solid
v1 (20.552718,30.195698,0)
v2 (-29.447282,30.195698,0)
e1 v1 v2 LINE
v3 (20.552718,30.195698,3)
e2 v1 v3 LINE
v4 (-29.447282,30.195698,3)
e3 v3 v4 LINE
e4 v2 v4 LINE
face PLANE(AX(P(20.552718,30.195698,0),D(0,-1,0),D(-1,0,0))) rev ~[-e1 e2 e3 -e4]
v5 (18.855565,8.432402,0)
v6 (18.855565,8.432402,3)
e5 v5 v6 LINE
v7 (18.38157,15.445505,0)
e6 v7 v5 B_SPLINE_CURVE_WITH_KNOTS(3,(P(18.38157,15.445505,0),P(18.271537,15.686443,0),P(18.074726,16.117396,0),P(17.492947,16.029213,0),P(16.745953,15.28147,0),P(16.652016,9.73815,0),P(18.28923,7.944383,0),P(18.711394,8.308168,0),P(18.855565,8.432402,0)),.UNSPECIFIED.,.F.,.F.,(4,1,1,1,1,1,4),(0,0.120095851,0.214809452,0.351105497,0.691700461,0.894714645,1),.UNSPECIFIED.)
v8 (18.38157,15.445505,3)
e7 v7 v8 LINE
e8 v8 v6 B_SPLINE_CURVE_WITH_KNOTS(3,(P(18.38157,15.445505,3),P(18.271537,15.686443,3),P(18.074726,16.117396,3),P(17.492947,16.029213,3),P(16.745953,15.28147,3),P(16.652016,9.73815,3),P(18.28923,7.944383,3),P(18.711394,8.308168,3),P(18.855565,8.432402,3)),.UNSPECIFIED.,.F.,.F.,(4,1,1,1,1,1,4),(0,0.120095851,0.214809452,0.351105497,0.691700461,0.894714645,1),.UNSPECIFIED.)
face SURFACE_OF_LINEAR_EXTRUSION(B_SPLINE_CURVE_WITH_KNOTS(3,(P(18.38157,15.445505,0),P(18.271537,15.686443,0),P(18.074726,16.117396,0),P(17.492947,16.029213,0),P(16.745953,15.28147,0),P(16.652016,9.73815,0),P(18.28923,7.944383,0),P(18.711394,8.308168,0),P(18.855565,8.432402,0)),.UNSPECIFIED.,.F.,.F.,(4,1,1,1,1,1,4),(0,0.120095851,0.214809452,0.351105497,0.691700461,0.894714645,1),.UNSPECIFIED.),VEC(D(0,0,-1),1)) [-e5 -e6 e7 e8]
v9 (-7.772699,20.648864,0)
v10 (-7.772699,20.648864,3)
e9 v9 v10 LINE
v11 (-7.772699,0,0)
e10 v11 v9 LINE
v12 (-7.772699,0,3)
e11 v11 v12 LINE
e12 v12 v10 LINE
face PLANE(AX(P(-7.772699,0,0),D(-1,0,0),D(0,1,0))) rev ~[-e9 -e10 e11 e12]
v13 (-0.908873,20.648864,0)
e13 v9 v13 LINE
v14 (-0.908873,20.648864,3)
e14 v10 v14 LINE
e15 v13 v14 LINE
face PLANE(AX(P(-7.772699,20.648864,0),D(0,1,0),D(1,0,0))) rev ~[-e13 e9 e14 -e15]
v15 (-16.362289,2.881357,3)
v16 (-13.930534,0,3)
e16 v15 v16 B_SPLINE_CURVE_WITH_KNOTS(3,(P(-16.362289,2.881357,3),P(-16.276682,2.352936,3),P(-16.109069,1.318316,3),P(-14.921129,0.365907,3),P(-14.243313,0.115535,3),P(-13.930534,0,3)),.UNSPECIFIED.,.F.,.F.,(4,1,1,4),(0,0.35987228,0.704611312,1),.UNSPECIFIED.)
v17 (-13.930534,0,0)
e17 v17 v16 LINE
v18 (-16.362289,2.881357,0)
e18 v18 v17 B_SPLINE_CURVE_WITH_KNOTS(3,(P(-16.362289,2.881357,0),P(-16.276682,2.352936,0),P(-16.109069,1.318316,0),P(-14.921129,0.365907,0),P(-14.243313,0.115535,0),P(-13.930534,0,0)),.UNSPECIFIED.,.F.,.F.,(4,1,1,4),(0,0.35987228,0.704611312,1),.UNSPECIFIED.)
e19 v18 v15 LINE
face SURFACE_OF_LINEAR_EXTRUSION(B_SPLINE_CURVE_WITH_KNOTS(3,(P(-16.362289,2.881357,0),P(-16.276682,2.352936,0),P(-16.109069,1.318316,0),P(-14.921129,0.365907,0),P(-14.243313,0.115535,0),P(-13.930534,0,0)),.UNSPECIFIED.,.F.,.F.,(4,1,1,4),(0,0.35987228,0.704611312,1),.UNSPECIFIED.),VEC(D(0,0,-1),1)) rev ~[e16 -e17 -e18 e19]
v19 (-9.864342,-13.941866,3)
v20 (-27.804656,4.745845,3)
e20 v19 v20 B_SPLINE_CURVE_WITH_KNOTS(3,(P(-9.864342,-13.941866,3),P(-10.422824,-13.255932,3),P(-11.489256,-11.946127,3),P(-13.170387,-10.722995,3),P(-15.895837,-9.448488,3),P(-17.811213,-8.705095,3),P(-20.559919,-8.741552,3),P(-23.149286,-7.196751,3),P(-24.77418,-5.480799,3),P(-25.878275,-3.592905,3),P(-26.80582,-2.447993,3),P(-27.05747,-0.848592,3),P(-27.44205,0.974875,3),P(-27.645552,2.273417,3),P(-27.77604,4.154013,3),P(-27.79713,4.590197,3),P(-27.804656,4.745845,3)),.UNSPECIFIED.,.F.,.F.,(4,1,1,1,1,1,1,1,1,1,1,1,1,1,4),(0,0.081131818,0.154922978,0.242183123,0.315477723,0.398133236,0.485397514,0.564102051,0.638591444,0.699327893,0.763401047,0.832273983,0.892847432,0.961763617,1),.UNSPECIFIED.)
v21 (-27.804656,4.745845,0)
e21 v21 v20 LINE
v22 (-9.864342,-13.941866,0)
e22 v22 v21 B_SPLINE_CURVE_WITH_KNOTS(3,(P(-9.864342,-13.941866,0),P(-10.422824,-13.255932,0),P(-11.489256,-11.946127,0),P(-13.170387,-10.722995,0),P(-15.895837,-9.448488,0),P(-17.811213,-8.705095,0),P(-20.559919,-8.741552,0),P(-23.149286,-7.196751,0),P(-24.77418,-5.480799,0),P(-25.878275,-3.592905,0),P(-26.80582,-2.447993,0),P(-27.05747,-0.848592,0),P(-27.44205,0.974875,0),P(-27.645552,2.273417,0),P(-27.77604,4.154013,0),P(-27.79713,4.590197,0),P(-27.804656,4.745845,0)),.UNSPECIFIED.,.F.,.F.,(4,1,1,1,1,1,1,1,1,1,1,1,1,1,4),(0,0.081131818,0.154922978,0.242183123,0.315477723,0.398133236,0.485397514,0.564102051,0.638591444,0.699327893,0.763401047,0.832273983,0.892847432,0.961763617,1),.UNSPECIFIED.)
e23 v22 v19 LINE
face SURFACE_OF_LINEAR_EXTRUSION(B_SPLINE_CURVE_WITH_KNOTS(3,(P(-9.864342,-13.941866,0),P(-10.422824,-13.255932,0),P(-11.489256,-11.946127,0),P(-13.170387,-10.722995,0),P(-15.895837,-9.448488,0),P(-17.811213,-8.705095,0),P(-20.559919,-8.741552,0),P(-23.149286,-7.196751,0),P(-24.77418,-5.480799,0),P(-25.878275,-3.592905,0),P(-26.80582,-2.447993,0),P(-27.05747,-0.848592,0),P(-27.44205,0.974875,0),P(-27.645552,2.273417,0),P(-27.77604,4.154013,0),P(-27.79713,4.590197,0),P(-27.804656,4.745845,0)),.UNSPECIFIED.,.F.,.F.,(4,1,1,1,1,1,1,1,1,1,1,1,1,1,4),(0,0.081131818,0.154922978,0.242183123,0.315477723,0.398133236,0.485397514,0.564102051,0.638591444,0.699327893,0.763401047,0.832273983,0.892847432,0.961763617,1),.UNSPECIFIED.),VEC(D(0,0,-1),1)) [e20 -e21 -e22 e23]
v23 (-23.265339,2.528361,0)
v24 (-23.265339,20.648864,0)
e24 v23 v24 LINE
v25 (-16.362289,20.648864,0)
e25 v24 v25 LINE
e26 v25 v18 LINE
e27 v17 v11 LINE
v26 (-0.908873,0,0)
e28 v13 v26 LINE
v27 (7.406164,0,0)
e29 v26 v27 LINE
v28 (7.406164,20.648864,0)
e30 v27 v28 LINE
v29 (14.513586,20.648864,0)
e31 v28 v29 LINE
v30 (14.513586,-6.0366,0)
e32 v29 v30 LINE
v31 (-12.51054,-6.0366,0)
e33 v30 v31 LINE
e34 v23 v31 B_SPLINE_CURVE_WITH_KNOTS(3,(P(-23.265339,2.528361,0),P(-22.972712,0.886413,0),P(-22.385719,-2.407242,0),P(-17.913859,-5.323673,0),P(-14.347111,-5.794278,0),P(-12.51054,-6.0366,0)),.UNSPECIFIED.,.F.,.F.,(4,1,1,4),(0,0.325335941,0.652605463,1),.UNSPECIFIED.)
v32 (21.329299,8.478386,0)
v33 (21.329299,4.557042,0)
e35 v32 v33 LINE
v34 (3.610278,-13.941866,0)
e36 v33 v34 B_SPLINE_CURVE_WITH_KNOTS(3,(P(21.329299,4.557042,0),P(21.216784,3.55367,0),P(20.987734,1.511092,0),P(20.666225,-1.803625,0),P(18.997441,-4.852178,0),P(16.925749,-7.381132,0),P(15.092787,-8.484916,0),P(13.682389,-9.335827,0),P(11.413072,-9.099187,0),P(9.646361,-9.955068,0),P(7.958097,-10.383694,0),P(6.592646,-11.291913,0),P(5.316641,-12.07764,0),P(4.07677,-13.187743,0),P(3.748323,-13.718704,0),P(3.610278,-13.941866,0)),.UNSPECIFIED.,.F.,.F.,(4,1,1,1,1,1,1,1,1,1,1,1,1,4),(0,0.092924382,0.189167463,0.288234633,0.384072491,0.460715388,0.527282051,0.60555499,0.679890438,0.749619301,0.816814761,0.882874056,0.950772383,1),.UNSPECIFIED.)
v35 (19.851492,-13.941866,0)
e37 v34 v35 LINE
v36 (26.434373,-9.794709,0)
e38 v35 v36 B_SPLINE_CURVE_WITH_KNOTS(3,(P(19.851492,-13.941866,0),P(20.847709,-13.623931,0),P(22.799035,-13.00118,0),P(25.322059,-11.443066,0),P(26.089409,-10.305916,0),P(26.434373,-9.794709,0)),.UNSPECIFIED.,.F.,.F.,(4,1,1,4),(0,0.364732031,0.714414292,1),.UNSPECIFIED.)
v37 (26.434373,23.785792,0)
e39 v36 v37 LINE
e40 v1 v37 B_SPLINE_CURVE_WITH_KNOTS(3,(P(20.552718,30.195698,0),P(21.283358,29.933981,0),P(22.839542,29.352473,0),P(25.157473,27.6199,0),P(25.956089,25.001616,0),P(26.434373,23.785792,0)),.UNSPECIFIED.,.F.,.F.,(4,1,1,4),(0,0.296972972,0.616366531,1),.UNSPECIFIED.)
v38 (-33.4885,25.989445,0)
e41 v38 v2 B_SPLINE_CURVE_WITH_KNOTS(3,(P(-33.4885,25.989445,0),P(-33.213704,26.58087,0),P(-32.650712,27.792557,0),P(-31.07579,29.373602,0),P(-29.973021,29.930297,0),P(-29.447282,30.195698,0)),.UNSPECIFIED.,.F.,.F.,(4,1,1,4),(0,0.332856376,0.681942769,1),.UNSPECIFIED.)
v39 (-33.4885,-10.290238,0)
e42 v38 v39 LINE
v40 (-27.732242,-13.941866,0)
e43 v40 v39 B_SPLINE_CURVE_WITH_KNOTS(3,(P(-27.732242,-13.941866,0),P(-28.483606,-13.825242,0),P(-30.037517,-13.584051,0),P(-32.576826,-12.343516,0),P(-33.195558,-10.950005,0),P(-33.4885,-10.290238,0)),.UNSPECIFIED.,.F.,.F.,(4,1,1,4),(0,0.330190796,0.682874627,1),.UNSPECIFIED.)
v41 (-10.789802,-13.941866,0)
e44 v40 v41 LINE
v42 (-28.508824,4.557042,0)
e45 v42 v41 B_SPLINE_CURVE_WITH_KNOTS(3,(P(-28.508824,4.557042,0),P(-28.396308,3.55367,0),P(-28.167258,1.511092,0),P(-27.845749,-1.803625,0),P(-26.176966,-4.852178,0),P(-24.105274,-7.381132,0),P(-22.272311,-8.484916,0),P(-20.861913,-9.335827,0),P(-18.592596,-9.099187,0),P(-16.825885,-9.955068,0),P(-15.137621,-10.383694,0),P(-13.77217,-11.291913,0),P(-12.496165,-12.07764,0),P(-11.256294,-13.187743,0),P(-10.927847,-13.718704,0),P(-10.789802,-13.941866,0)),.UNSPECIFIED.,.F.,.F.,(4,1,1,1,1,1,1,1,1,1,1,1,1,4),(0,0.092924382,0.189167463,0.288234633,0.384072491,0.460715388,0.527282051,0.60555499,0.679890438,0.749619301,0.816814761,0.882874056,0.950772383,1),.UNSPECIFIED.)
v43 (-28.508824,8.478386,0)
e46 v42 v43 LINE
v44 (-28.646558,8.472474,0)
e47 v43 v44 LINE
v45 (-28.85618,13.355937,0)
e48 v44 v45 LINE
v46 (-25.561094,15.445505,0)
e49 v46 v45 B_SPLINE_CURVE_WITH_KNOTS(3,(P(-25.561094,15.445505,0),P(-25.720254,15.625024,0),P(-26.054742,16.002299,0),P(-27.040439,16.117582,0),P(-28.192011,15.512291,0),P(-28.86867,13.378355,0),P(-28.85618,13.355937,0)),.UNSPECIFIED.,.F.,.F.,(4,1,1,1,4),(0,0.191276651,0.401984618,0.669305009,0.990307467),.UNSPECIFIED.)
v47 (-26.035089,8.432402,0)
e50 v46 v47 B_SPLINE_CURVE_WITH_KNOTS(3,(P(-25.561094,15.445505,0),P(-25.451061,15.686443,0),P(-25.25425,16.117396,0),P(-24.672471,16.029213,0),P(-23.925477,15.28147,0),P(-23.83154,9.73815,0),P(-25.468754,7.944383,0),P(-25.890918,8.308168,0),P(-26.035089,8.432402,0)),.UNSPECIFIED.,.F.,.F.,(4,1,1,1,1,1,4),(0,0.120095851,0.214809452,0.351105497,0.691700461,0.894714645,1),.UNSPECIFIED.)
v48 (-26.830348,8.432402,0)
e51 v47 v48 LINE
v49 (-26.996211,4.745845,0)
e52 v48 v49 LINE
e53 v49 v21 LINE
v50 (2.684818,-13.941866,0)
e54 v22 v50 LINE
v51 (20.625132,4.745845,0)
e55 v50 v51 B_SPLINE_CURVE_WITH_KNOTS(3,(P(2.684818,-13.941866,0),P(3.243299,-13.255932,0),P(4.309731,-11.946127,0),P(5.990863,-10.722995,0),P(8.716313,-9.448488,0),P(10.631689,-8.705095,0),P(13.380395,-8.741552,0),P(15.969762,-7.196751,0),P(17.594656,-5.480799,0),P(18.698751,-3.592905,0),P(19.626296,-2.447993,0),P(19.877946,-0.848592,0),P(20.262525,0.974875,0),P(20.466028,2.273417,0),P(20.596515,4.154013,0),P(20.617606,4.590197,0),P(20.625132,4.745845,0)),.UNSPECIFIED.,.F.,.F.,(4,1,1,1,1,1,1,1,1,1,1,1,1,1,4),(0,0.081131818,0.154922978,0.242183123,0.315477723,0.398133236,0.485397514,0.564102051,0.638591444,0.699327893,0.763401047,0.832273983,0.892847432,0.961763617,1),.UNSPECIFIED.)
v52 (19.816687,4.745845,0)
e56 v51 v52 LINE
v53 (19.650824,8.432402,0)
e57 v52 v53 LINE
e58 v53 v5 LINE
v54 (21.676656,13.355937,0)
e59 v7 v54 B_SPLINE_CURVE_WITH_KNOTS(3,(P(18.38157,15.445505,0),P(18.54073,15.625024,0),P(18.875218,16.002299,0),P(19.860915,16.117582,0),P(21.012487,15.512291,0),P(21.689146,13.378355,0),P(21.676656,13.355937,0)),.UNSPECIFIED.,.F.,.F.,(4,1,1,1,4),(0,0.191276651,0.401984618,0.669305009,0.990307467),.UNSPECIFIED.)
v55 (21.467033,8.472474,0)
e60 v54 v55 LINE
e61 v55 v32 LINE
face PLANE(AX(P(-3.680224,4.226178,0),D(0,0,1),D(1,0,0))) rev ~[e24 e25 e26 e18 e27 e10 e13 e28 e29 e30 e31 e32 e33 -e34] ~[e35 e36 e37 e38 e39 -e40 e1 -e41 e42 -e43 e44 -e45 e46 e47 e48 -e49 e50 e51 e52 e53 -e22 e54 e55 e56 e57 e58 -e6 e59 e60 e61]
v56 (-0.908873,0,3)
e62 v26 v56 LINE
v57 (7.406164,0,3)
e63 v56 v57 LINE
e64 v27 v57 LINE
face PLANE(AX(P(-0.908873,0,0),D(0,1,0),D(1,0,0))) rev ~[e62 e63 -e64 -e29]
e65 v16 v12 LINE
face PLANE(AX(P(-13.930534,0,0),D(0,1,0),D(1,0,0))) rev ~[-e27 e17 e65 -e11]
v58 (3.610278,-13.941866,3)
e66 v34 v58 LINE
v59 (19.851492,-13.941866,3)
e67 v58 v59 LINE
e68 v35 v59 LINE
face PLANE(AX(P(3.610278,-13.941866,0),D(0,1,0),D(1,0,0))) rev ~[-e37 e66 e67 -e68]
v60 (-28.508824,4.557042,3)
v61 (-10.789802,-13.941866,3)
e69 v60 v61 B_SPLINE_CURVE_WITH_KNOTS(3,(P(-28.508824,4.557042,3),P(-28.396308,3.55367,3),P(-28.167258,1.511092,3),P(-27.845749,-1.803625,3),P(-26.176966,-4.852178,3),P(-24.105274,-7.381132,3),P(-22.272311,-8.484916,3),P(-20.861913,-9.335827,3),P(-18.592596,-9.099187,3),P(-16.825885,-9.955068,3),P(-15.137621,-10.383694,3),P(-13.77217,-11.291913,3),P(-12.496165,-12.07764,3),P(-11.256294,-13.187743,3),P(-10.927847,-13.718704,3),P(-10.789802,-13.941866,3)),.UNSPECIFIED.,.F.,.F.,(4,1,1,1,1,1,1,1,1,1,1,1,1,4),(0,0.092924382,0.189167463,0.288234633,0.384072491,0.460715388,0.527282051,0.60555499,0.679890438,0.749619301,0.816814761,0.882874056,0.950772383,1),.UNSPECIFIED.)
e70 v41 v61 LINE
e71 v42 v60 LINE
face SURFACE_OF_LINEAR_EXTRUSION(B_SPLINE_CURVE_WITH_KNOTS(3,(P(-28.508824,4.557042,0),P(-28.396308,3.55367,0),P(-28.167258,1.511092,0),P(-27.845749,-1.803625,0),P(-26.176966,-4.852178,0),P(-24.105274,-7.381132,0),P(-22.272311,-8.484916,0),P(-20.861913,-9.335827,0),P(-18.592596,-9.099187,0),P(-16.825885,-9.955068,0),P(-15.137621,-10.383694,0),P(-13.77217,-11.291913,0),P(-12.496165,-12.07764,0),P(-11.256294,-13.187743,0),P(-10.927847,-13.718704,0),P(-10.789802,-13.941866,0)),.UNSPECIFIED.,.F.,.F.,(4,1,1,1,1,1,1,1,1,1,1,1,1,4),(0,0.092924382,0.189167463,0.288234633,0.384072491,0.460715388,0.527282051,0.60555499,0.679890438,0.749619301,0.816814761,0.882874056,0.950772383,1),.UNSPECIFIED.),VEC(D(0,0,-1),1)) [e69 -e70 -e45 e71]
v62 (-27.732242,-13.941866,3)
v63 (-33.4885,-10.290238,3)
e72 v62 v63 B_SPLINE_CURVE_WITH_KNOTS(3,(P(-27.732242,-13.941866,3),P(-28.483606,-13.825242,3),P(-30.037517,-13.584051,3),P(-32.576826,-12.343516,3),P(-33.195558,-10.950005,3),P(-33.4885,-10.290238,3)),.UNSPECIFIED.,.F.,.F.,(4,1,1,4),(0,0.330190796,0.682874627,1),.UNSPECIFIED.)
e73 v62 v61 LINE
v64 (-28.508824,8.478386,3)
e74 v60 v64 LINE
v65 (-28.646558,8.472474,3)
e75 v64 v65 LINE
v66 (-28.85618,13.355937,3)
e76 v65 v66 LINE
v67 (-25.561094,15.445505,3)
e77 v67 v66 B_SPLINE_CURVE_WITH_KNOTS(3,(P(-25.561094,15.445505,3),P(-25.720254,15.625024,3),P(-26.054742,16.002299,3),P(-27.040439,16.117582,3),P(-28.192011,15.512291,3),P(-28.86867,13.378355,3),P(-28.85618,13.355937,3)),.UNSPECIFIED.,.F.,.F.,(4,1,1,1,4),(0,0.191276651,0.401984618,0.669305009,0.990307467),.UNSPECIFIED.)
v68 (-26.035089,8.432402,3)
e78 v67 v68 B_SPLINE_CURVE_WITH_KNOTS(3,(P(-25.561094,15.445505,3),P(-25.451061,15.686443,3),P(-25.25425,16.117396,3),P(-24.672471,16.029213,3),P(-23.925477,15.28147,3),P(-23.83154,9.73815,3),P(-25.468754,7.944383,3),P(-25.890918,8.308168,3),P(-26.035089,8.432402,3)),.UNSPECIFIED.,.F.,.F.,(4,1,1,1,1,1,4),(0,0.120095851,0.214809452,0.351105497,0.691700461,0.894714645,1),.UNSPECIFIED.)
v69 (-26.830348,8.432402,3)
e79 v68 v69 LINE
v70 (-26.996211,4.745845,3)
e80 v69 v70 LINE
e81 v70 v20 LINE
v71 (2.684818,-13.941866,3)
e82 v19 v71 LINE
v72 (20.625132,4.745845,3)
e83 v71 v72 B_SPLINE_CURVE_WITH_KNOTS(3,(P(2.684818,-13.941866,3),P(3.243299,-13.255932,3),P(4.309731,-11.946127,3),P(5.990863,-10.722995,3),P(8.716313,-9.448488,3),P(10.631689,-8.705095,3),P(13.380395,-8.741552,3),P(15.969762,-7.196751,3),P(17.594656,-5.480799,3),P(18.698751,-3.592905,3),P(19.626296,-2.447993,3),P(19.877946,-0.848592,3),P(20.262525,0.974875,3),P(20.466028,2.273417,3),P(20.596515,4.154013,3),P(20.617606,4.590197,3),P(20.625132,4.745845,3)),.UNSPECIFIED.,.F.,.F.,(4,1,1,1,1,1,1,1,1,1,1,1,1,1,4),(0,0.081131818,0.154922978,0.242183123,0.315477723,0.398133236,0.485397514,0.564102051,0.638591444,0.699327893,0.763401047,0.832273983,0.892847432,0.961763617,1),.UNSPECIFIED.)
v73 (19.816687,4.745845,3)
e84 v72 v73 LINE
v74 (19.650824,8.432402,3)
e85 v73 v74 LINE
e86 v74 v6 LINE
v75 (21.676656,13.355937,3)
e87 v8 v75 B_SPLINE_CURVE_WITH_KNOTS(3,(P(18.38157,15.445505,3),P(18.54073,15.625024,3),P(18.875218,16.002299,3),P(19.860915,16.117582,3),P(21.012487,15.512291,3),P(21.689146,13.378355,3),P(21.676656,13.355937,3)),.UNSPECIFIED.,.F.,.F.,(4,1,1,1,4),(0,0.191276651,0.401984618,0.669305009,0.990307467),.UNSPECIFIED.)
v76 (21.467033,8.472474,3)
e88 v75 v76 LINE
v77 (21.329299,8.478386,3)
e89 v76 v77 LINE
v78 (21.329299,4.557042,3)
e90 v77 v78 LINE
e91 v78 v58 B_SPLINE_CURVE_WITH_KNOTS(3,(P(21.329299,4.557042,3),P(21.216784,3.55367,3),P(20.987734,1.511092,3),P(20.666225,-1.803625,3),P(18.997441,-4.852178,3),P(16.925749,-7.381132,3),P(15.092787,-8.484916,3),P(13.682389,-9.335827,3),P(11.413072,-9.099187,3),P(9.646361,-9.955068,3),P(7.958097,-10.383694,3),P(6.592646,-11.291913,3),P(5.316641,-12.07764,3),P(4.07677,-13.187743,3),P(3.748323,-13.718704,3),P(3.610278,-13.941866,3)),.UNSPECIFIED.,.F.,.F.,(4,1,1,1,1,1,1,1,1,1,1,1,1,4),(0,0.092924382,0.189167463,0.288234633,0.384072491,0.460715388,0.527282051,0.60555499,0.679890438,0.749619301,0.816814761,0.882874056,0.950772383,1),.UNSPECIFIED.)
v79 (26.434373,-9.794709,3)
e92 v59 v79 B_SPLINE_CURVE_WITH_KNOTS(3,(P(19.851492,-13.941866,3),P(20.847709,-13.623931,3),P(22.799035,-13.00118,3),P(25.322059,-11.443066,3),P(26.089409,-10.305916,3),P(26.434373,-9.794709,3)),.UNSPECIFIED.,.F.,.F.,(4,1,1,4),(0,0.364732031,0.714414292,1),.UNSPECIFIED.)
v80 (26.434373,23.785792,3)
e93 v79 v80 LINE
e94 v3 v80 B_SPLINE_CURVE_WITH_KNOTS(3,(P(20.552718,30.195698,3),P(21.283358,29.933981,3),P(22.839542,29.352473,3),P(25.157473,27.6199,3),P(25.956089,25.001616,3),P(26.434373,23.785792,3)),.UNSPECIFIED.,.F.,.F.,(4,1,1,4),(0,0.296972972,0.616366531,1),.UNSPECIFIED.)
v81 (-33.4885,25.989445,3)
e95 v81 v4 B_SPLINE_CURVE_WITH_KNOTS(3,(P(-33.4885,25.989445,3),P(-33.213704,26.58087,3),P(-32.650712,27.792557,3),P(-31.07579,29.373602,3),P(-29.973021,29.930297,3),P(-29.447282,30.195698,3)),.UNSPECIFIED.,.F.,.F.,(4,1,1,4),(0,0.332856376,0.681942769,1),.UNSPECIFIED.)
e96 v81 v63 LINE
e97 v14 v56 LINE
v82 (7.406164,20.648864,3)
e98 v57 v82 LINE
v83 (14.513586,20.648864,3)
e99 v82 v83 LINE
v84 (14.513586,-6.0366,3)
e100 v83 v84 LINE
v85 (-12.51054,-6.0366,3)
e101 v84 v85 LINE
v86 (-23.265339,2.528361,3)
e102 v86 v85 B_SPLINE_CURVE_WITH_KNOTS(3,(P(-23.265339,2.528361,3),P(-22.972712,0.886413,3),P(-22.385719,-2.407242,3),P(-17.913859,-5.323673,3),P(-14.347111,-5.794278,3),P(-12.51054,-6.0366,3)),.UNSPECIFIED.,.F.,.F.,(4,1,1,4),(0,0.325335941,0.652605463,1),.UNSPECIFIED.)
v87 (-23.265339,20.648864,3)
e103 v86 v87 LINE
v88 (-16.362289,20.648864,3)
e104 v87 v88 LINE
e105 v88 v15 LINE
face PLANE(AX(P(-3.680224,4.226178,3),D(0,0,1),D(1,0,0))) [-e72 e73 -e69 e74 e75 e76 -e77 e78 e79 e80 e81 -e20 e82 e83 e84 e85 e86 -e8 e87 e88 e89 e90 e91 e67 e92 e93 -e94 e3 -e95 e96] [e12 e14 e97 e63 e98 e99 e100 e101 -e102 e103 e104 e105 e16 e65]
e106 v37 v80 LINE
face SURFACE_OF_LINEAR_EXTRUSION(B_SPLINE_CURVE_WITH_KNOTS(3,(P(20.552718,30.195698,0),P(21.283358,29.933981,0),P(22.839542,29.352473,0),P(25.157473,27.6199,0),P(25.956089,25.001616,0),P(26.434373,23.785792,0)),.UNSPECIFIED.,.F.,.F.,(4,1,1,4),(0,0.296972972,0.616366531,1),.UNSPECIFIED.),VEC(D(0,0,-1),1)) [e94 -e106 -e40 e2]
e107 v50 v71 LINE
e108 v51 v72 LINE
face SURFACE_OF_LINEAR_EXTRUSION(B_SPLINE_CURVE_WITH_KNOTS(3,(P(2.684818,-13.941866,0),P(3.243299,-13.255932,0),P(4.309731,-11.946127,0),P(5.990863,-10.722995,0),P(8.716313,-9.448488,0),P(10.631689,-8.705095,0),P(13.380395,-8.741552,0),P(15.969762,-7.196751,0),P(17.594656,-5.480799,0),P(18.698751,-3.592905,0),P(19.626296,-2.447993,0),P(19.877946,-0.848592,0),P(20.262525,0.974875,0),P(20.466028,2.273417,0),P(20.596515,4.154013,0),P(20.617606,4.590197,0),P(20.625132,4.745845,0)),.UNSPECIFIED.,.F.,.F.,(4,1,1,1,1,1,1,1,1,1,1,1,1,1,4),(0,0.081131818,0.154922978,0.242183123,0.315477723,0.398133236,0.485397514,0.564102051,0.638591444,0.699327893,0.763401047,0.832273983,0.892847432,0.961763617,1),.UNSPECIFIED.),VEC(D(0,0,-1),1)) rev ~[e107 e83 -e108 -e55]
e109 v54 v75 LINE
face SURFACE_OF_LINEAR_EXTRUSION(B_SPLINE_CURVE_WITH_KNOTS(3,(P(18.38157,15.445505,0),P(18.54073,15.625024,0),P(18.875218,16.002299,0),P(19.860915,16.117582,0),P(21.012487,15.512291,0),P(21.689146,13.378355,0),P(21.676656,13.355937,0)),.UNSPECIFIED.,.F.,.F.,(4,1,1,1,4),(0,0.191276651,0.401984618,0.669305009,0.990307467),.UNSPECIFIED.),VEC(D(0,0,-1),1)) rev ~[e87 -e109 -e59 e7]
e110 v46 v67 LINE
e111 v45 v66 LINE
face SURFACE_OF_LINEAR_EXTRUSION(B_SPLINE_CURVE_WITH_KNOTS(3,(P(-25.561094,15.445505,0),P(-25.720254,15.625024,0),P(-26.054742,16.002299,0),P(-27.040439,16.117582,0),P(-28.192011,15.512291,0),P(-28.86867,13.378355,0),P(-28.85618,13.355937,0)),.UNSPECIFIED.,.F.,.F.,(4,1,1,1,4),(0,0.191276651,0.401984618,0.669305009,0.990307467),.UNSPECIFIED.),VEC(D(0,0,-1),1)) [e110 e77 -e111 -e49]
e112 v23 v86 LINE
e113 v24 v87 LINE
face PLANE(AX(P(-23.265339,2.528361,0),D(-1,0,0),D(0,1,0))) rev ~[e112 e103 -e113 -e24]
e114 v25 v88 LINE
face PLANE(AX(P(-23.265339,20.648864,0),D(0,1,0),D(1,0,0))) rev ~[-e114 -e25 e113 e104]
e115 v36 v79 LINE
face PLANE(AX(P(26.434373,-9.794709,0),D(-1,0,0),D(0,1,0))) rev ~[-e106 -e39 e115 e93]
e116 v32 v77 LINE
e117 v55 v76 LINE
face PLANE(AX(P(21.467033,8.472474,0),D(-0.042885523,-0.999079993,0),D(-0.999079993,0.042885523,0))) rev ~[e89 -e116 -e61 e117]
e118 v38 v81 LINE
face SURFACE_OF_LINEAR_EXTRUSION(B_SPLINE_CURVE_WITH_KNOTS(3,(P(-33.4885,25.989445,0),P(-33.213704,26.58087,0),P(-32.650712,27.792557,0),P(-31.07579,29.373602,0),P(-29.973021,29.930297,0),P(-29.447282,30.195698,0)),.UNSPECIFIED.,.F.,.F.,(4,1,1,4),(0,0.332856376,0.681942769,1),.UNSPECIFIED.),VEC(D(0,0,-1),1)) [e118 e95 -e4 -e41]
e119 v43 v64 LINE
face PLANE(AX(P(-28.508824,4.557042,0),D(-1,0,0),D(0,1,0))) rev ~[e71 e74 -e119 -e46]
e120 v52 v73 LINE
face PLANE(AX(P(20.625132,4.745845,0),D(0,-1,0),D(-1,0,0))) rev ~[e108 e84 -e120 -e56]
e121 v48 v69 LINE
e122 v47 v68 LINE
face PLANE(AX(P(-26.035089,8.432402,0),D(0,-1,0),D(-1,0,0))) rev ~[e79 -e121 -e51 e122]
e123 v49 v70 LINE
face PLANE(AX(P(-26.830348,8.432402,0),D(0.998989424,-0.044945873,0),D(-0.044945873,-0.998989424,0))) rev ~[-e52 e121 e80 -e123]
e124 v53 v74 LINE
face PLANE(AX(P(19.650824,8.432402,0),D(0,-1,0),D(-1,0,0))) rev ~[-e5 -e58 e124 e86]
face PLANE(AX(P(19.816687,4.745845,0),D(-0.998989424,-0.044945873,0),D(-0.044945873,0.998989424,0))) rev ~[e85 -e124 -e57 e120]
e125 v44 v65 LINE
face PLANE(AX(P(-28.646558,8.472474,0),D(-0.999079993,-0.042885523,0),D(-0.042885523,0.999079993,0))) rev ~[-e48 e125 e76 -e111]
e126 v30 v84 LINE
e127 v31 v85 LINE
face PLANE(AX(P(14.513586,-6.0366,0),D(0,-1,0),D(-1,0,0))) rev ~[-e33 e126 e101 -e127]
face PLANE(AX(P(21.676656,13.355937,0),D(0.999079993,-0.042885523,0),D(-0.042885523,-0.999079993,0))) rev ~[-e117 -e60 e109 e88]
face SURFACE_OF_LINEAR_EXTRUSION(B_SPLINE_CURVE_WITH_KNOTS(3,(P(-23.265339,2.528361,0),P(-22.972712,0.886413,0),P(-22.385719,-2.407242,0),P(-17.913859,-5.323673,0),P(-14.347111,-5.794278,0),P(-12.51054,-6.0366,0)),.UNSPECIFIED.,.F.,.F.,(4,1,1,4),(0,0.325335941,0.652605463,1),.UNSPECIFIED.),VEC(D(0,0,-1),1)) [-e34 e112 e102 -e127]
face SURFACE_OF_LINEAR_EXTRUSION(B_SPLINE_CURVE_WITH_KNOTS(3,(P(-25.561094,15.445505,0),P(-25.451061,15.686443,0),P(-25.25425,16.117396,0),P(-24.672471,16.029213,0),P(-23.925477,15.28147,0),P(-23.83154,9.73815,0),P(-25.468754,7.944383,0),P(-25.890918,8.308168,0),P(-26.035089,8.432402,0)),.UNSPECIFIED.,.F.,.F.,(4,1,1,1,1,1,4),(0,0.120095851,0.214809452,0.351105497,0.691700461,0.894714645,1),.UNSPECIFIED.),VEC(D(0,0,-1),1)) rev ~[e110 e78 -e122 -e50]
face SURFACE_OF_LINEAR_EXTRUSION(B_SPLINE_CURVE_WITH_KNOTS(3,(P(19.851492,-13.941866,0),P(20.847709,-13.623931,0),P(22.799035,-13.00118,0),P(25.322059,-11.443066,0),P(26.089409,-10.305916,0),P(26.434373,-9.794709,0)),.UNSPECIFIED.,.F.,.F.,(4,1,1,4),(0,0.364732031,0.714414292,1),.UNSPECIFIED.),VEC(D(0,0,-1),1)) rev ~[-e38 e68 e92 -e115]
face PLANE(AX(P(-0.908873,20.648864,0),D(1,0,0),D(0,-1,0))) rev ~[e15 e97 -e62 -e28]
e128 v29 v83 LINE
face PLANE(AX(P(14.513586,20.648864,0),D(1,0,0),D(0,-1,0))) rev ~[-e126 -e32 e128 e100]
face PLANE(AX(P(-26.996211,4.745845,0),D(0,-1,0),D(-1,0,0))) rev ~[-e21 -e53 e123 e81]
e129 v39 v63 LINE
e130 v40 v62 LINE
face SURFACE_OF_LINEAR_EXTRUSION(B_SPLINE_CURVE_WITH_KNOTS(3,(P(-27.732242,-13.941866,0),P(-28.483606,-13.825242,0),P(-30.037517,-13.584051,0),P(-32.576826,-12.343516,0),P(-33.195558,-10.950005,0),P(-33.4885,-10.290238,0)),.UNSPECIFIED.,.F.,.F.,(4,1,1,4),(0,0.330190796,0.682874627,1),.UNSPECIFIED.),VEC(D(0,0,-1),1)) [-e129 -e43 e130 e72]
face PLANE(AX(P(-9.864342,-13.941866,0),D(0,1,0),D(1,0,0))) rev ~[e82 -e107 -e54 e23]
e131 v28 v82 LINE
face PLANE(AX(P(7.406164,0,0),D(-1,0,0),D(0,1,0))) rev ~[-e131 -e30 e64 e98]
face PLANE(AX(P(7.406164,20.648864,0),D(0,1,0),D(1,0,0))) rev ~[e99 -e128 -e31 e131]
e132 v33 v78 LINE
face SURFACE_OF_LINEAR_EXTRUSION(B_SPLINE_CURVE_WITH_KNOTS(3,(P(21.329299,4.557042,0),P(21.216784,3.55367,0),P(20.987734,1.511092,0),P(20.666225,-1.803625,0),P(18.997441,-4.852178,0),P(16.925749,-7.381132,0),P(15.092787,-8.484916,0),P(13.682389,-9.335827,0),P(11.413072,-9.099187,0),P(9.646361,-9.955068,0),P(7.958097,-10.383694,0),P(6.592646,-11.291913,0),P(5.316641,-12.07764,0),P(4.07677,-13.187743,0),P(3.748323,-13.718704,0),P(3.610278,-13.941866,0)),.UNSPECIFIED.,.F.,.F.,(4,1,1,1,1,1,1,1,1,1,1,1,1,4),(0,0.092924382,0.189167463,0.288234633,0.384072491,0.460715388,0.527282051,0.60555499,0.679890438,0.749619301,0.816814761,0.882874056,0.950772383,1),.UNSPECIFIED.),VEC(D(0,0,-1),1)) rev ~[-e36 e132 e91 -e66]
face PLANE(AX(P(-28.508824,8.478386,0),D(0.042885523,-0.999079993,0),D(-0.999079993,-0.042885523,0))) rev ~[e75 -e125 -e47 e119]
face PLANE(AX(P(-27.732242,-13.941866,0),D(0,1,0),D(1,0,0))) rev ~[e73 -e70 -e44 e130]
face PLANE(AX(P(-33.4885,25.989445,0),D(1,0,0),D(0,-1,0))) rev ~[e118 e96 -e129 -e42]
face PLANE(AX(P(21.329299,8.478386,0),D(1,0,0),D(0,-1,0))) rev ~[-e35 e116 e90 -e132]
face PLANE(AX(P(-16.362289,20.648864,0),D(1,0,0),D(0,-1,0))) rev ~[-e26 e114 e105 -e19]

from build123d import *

# Parameters (mm, degrees)
F1_DEPTH = 3


with BuildPart() as f1:
    # F0 (on Top) → F1 (new body)
    with BuildSketch(Plane.XY):
        with BuildLine():
            Line((20.5527181621, 30.195697915), (-29.4472818379, 30.195697915))
            add(Edge.make_bspline(
                [(-33.4885001085, 25.9894452414), (-33.213703802, 26.5808699423), (-32.6507121711, 27.7925571051), (-31.0757898275, 29.37360199), (-29.9730210707, 29.9302966497), (-29.4472818379, 30.195697915)],
                knots=[0, 0, 0, 0, 0.3328563765, 0.6819427693, 1, 1, 1, 1], degree=3))
            Line((-33.4885001085, 25.9894452414), (-33.4885001085, -10.2902378456))
            add(Edge.make_bspline(
                [(-27.7322423042, -13.9418656194), (-28.4836058117, -13.8252421446), (-30.0375167068, -13.5840506488), (-32.5768259091, -12.3435159595), (-33.1955576712, -10.9500045645), (-33.4885001085, -10.2902378456)],
                knots=[0, 0, 0, 0, 0.3301907957, 0.682874627, 1, 1, 1, 1], degree=3))
            Line((-27.7322423042, -13.9418656194), (-10.7898019482, -13.9418656194))
            add(Edge.make_bspline(
                [(-28.5088235463, 4.5570421469), (-28.3963078081, 3.5536701607), (-28.1672579469, 1.5110917816), (-27.8457487973, -1.8036249304), (-26.1769655582, -4.8521782939), (-24.1052736346, -7.3811315964), (-22.2723113651, -8.4849159584), (-20.8619134501, -9.3358274832), (-18.592595939, -9.0991872739), (-16.8258854922, -9.9550678155), (-15.1376214427, -10.3836937437), (-13.7721703287, -11.2919130026), (-12.4961650489, -12.0776401334), (-11.2562944693, -13.1877426319), (-10.9278471754, -13.7187043157), (-10.7898019482, -13.9418656194)],
                knots=[0, 0, 0, 0, 0.0929243816, 0.1891674626, 0.288234633, 0.3840724913, 0.4607153882, 0.5272820506, 0.60555499, 0.6798904382, 0.7496193013, 0.8168147609, 0.8828740561, 0.9507723831, 1, 1, 1, 1], degree=3))
            Line((-28.5088235463, 4.5570421469), (-28.5088235463, 8.478385812))
            Line((-28.5088235463, 8.478385812), (-28.6465575529, 8.4724735778))
            Line((-28.6465575529, 8.4724735778), (-28.856180302, 13.3559372531))
            add(Edge.make_bspline(
                [(-25.5610939354, 15.445505253), (-25.7202536842, 15.6250241148), (-26.0547418232, 16.0022987113), (-27.0404386684, 16.1175815198), (-28.1920106621, 15.5122913758), (-28.8686699031, 13.3783552584), (-28.856180302, 13.3559372531)],
                knots=[0, 0, 0, 0, 0.1912766505, 0.4019846184, 0.6693050093, 0.9903074667, 0.9903074667, 0.9903074667, 0.9903074667], degree=3))
            add(Edge.make_bspline(
                [(-25.5610939354, 15.445505253), (-25.4510607343, 15.6864427113), (-25.2542498411, 16.1173955139), (-24.672470838, 16.0292127347), (-23.9254769017, 15.2814700519), (-23.8315402851, 9.7381500352), (-25.4687543478, 7.9443834682), (-25.8909183497, 8.3081683223), (-26.0350888111, 8.4324021036)],
                knots=[0, 0, 0, 0, 0.1200958505, 0.2148094519, 0.3511054974, 0.6917004605, 0.8947146449, 1, 1, 1, 1], degree=3))
            Line((-26.0350888111, 8.4324021036), (-26.8303478097, 8.4324021036))
            Line((-26.8303478097, 8.4324021036), (-26.9962109493, 4.7458451406))
            Line((-26.9962109493, 4.7458451406), (-27.8046563828, 4.7458451406))
            add(Edge.make_bspline(
                [(-9.8643423474, -13.9418656194), (-10.4228235309, -13.2559319779), (-11.4892555432, -11.9461267143), (-13.1703868992, -10.7229947742), (-15.8958370989, -9.4484884404), (-17.8112127607, -8.705095499), (-20.5599194862, -8.7415516056), (-23.1492858216, -7.1967512579), (-24.7741798058, -5.4807986695), (-25.8782752386, -3.5929053261), (-26.8058199051, -2.4479926091), (-27.0574701536, -0.8485923563), (-27.4420496003, 0.9748753662), (-27.6455521715, 2.2734168237), (-27.7760395118, 4.1540133465), (-27.7971303251, 4.5901970895), (-27.8046563828, 4.7458451406)],
                knots=[0, 0, 0, 0, 0.0811318182, 0.1549229781, 0.242183123, 0.3154777228, 0.3981332361, 0.4853975139, 0.564102051, 0.6385914444, 0.6993278926, 0.7634010469, 0.8322739833, 0.8928474316, 0.9617636175, 1, 1, 1, 1], degree=3))
            Line((-9.8643423474, -13.9418656194), (2.6848182054, -13.9418656194))
            add(Edge.make_bspline(
                [(2.6848182054, -13.9418656194), (3.2432993889, -13.2559319779), (4.3097314011, -11.9461267143), (5.9908627572, -10.7229947742), (8.7163129569, -9.4484884404), (10.6316886187, -8.705095499), (13.3803953442, -8.7415516056), (15.9697616796, -7.1967512579), (17.5946556638, -5.4807986695), (18.6987510966, -3.5929053261), (19.626295763, -2.4479926091), (19.8779460115, -0.8485923563), (20.2625254583, 0.9748753662), (20.4660280294, 2.2734168237), (20.5965153698, 4.1540133465), (20.6176061831, 4.5901970895), (20.6251322408, 4.7458451406)],
                knots=[0, 0, 0, 0, 0.0811318182, 0.1549229781, 0.242183123, 0.3154777228, 0.3981332361, 0.4853975139, 0.564102051, 0.6385914444, 0.6993278926, 0.7634010469, 0.8322739833, 0.8928474316, 0.9617636175, 1, 1, 1, 1], degree=3))
            Line((20.6251322408, 4.7458451406), (19.8166868073, 4.7458451406))
            Line((19.8166868073, 4.7458451406), (19.6508236677, 8.4324021036))
            Line((19.6508236677, 8.4324021036), (18.8555646691, 8.4324021036))
            add(Edge.make_bspline(
                [(18.3815697934, 15.445505253), (18.2715365923, 15.6864427113), (18.0747256991, 16.1173955139), (17.492946696, 16.0292127347), (16.7459527597, 15.2814700519), (16.6520161431, 9.7381500352), (18.2892302058, 7.9443834682), (18.7113942077, 8.3081683223), (18.8555646691, 8.4324021036)],
                knots=[0, 0, 0, 0, 0.1200958505, 0.2148094519, 0.3511054974, 0.6917004605, 0.8947146449, 1, 1, 1, 1], degree=3))
            add(Edge.make_bspline(
                [(18.3815697934, 15.445505253), (18.5407295422, 15.6250241148), (18.8752176812, 16.0022987113), (19.8609145264, 16.1175815198), (21.0124865201, 15.5122913758), (21.6891457611, 13.3783552584), (21.67665616, 13.3559372531)],
                knots=[0, 0, 0, 0, 0.1912766505, 0.4019846184, 0.6693050093, 0.9903074667, 0.9903074667, 0.9903074667, 0.9903074667], degree=3))
            Line((21.67665616, 13.3559372531), (21.4670334109, 8.4724735778))
            Line((21.4670334109, 8.4724735778), (21.3292994042, 8.478385812))
            Line((21.3292994042, 8.478385812), (21.3292994042, 4.5570421469))
            add(Edge.make_bspline(
                [(21.3292994042, 4.5570421469), (21.2167836661, 3.5536701607), (20.9877338049, 1.5110917816), (20.6662246553, -1.8036249304), (18.9974414162, -4.8521782939), (16.9257494926, -7.3811315964), (15.0927872231, -8.4849159584), (13.6823893081, -9.3358274832), (11.413071797, -9.0991872739), (9.6463613501, -9.9550678155), (7.9580973007, -10.3836937437), (6.5926461867, -11.2919130026), (5.3166409069, -12.0776401334), (4.0767703273, -13.1877426319), (3.7483230334, -13.7187043157), (3.6102778062, -13.9418656194)],
                knots=[0, 0, 0, 0, 0.0929243816, 0.1891674626, 0.288234633, 0.3840724913, 0.4607153882, 0.5272820506, 0.60555499, 0.6798904382, 0.7496193013, 0.8168147609, 0.8828740561, 0.9507723831, 1, 1, 1, 1], degree=3))
            Line((3.6102778062, -13.9418656194), (19.8514924581, -13.9418656194))
            add(Edge.make_bspline(
                [(19.8514924581, -13.9418656194), (20.8477088835, -13.6239308956), (22.7990353174, -13.0011802412), (25.3220593168, -11.4430657877), (26.0894092473, -10.305916103), (26.4343726067, -9.7947086866)],
                knots=[0, 0, 0, 0, 0.3647320307, 0.7144142924, 1, 1, 1, 1], degree=3))
            Line((26.4343726067, -9.7947086866), (26.4343726067, 23.7857923042))
            add(Edge.make_bspline(
                [(20.5527181621, 30.195697915), (21.2833579401, 29.9339812014), (22.8395419668, 29.3524729862), (25.1574728875, 27.6199003715), (25.9560887811, 25.0016155559), (26.4343726067, 23.7857923042)],
                knots=[0, 0, 0, 0, 0.2969729715, 0.6163665308, 1, 1, 1, 1], degree=3))
        make_face()
        with BuildLine():
            Line((-23.2653390975, 2.5283608725), (-23.2653390975, 20.6488644777))
            Line((-23.2653390975, 20.6488644777), (-16.3622886956, 20.6488644777))
            Line((-16.3622886956, 20.6488644777), (-16.3622886956, 2.8813569857))
            add(Edge.make_bspline(
                [(-16.3622886956, 2.8813569857), (-16.2766822422, 2.3529362143), (-16.1090692339, 1.3183156735), (-14.9211291825, 0.3659074087), (-14.2433134647, 0.1155350226), (-13.9305335471, 0)],
                knots=[0, 0, 0, 0, 0.3598722801, 0.7046113121, 1, 1, 1, 1], degree=3))
            Line((-13.9305335471, 0), (-7.7726994497, 0))
            Line((-7.7726994497, 0), (-7.7726994497, 20.6488644777))
            Line((-7.7726994497, 20.6488644777), (-0.9088727238, 20.6488644777))
            Line((-0.9088727238, 20.6488644777), (-0.9088727238, 0))
            Line((-0.9088727238, 0), (7.4061643025, 0))
            Line((7.4061643025, 0), (7.4061643025, 20.6488644777))
            Line((7.4061643025, 20.6488644777), (14.5135857856, 20.6488644777))
            Line((14.5135857856, 20.6488644777), (14.5135857856, -6.0365998399))
            Line((14.5135857856, -6.0365998399), (-12.5105396895, -6.0365998399))
            add(Edge.make_bspline(
                [(-23.2653390975, 2.5283608725), (-22.972712073, 0.886412802), (-22.3857188434, -2.4072419863), (-17.9138591634, -5.3236731255), (-14.3471111697, -5.7942782675), (-12.5105396895, -6.0365998399)],
                knots=[0, 0, 0, 0, 0.325335941, 0.6526054626, 1, 1, 1, 1], degree=3))
        make_face(mode=Mode.SUBTRACT)
    extrude(amount=F1_DEPTH)


solid = f1.part
